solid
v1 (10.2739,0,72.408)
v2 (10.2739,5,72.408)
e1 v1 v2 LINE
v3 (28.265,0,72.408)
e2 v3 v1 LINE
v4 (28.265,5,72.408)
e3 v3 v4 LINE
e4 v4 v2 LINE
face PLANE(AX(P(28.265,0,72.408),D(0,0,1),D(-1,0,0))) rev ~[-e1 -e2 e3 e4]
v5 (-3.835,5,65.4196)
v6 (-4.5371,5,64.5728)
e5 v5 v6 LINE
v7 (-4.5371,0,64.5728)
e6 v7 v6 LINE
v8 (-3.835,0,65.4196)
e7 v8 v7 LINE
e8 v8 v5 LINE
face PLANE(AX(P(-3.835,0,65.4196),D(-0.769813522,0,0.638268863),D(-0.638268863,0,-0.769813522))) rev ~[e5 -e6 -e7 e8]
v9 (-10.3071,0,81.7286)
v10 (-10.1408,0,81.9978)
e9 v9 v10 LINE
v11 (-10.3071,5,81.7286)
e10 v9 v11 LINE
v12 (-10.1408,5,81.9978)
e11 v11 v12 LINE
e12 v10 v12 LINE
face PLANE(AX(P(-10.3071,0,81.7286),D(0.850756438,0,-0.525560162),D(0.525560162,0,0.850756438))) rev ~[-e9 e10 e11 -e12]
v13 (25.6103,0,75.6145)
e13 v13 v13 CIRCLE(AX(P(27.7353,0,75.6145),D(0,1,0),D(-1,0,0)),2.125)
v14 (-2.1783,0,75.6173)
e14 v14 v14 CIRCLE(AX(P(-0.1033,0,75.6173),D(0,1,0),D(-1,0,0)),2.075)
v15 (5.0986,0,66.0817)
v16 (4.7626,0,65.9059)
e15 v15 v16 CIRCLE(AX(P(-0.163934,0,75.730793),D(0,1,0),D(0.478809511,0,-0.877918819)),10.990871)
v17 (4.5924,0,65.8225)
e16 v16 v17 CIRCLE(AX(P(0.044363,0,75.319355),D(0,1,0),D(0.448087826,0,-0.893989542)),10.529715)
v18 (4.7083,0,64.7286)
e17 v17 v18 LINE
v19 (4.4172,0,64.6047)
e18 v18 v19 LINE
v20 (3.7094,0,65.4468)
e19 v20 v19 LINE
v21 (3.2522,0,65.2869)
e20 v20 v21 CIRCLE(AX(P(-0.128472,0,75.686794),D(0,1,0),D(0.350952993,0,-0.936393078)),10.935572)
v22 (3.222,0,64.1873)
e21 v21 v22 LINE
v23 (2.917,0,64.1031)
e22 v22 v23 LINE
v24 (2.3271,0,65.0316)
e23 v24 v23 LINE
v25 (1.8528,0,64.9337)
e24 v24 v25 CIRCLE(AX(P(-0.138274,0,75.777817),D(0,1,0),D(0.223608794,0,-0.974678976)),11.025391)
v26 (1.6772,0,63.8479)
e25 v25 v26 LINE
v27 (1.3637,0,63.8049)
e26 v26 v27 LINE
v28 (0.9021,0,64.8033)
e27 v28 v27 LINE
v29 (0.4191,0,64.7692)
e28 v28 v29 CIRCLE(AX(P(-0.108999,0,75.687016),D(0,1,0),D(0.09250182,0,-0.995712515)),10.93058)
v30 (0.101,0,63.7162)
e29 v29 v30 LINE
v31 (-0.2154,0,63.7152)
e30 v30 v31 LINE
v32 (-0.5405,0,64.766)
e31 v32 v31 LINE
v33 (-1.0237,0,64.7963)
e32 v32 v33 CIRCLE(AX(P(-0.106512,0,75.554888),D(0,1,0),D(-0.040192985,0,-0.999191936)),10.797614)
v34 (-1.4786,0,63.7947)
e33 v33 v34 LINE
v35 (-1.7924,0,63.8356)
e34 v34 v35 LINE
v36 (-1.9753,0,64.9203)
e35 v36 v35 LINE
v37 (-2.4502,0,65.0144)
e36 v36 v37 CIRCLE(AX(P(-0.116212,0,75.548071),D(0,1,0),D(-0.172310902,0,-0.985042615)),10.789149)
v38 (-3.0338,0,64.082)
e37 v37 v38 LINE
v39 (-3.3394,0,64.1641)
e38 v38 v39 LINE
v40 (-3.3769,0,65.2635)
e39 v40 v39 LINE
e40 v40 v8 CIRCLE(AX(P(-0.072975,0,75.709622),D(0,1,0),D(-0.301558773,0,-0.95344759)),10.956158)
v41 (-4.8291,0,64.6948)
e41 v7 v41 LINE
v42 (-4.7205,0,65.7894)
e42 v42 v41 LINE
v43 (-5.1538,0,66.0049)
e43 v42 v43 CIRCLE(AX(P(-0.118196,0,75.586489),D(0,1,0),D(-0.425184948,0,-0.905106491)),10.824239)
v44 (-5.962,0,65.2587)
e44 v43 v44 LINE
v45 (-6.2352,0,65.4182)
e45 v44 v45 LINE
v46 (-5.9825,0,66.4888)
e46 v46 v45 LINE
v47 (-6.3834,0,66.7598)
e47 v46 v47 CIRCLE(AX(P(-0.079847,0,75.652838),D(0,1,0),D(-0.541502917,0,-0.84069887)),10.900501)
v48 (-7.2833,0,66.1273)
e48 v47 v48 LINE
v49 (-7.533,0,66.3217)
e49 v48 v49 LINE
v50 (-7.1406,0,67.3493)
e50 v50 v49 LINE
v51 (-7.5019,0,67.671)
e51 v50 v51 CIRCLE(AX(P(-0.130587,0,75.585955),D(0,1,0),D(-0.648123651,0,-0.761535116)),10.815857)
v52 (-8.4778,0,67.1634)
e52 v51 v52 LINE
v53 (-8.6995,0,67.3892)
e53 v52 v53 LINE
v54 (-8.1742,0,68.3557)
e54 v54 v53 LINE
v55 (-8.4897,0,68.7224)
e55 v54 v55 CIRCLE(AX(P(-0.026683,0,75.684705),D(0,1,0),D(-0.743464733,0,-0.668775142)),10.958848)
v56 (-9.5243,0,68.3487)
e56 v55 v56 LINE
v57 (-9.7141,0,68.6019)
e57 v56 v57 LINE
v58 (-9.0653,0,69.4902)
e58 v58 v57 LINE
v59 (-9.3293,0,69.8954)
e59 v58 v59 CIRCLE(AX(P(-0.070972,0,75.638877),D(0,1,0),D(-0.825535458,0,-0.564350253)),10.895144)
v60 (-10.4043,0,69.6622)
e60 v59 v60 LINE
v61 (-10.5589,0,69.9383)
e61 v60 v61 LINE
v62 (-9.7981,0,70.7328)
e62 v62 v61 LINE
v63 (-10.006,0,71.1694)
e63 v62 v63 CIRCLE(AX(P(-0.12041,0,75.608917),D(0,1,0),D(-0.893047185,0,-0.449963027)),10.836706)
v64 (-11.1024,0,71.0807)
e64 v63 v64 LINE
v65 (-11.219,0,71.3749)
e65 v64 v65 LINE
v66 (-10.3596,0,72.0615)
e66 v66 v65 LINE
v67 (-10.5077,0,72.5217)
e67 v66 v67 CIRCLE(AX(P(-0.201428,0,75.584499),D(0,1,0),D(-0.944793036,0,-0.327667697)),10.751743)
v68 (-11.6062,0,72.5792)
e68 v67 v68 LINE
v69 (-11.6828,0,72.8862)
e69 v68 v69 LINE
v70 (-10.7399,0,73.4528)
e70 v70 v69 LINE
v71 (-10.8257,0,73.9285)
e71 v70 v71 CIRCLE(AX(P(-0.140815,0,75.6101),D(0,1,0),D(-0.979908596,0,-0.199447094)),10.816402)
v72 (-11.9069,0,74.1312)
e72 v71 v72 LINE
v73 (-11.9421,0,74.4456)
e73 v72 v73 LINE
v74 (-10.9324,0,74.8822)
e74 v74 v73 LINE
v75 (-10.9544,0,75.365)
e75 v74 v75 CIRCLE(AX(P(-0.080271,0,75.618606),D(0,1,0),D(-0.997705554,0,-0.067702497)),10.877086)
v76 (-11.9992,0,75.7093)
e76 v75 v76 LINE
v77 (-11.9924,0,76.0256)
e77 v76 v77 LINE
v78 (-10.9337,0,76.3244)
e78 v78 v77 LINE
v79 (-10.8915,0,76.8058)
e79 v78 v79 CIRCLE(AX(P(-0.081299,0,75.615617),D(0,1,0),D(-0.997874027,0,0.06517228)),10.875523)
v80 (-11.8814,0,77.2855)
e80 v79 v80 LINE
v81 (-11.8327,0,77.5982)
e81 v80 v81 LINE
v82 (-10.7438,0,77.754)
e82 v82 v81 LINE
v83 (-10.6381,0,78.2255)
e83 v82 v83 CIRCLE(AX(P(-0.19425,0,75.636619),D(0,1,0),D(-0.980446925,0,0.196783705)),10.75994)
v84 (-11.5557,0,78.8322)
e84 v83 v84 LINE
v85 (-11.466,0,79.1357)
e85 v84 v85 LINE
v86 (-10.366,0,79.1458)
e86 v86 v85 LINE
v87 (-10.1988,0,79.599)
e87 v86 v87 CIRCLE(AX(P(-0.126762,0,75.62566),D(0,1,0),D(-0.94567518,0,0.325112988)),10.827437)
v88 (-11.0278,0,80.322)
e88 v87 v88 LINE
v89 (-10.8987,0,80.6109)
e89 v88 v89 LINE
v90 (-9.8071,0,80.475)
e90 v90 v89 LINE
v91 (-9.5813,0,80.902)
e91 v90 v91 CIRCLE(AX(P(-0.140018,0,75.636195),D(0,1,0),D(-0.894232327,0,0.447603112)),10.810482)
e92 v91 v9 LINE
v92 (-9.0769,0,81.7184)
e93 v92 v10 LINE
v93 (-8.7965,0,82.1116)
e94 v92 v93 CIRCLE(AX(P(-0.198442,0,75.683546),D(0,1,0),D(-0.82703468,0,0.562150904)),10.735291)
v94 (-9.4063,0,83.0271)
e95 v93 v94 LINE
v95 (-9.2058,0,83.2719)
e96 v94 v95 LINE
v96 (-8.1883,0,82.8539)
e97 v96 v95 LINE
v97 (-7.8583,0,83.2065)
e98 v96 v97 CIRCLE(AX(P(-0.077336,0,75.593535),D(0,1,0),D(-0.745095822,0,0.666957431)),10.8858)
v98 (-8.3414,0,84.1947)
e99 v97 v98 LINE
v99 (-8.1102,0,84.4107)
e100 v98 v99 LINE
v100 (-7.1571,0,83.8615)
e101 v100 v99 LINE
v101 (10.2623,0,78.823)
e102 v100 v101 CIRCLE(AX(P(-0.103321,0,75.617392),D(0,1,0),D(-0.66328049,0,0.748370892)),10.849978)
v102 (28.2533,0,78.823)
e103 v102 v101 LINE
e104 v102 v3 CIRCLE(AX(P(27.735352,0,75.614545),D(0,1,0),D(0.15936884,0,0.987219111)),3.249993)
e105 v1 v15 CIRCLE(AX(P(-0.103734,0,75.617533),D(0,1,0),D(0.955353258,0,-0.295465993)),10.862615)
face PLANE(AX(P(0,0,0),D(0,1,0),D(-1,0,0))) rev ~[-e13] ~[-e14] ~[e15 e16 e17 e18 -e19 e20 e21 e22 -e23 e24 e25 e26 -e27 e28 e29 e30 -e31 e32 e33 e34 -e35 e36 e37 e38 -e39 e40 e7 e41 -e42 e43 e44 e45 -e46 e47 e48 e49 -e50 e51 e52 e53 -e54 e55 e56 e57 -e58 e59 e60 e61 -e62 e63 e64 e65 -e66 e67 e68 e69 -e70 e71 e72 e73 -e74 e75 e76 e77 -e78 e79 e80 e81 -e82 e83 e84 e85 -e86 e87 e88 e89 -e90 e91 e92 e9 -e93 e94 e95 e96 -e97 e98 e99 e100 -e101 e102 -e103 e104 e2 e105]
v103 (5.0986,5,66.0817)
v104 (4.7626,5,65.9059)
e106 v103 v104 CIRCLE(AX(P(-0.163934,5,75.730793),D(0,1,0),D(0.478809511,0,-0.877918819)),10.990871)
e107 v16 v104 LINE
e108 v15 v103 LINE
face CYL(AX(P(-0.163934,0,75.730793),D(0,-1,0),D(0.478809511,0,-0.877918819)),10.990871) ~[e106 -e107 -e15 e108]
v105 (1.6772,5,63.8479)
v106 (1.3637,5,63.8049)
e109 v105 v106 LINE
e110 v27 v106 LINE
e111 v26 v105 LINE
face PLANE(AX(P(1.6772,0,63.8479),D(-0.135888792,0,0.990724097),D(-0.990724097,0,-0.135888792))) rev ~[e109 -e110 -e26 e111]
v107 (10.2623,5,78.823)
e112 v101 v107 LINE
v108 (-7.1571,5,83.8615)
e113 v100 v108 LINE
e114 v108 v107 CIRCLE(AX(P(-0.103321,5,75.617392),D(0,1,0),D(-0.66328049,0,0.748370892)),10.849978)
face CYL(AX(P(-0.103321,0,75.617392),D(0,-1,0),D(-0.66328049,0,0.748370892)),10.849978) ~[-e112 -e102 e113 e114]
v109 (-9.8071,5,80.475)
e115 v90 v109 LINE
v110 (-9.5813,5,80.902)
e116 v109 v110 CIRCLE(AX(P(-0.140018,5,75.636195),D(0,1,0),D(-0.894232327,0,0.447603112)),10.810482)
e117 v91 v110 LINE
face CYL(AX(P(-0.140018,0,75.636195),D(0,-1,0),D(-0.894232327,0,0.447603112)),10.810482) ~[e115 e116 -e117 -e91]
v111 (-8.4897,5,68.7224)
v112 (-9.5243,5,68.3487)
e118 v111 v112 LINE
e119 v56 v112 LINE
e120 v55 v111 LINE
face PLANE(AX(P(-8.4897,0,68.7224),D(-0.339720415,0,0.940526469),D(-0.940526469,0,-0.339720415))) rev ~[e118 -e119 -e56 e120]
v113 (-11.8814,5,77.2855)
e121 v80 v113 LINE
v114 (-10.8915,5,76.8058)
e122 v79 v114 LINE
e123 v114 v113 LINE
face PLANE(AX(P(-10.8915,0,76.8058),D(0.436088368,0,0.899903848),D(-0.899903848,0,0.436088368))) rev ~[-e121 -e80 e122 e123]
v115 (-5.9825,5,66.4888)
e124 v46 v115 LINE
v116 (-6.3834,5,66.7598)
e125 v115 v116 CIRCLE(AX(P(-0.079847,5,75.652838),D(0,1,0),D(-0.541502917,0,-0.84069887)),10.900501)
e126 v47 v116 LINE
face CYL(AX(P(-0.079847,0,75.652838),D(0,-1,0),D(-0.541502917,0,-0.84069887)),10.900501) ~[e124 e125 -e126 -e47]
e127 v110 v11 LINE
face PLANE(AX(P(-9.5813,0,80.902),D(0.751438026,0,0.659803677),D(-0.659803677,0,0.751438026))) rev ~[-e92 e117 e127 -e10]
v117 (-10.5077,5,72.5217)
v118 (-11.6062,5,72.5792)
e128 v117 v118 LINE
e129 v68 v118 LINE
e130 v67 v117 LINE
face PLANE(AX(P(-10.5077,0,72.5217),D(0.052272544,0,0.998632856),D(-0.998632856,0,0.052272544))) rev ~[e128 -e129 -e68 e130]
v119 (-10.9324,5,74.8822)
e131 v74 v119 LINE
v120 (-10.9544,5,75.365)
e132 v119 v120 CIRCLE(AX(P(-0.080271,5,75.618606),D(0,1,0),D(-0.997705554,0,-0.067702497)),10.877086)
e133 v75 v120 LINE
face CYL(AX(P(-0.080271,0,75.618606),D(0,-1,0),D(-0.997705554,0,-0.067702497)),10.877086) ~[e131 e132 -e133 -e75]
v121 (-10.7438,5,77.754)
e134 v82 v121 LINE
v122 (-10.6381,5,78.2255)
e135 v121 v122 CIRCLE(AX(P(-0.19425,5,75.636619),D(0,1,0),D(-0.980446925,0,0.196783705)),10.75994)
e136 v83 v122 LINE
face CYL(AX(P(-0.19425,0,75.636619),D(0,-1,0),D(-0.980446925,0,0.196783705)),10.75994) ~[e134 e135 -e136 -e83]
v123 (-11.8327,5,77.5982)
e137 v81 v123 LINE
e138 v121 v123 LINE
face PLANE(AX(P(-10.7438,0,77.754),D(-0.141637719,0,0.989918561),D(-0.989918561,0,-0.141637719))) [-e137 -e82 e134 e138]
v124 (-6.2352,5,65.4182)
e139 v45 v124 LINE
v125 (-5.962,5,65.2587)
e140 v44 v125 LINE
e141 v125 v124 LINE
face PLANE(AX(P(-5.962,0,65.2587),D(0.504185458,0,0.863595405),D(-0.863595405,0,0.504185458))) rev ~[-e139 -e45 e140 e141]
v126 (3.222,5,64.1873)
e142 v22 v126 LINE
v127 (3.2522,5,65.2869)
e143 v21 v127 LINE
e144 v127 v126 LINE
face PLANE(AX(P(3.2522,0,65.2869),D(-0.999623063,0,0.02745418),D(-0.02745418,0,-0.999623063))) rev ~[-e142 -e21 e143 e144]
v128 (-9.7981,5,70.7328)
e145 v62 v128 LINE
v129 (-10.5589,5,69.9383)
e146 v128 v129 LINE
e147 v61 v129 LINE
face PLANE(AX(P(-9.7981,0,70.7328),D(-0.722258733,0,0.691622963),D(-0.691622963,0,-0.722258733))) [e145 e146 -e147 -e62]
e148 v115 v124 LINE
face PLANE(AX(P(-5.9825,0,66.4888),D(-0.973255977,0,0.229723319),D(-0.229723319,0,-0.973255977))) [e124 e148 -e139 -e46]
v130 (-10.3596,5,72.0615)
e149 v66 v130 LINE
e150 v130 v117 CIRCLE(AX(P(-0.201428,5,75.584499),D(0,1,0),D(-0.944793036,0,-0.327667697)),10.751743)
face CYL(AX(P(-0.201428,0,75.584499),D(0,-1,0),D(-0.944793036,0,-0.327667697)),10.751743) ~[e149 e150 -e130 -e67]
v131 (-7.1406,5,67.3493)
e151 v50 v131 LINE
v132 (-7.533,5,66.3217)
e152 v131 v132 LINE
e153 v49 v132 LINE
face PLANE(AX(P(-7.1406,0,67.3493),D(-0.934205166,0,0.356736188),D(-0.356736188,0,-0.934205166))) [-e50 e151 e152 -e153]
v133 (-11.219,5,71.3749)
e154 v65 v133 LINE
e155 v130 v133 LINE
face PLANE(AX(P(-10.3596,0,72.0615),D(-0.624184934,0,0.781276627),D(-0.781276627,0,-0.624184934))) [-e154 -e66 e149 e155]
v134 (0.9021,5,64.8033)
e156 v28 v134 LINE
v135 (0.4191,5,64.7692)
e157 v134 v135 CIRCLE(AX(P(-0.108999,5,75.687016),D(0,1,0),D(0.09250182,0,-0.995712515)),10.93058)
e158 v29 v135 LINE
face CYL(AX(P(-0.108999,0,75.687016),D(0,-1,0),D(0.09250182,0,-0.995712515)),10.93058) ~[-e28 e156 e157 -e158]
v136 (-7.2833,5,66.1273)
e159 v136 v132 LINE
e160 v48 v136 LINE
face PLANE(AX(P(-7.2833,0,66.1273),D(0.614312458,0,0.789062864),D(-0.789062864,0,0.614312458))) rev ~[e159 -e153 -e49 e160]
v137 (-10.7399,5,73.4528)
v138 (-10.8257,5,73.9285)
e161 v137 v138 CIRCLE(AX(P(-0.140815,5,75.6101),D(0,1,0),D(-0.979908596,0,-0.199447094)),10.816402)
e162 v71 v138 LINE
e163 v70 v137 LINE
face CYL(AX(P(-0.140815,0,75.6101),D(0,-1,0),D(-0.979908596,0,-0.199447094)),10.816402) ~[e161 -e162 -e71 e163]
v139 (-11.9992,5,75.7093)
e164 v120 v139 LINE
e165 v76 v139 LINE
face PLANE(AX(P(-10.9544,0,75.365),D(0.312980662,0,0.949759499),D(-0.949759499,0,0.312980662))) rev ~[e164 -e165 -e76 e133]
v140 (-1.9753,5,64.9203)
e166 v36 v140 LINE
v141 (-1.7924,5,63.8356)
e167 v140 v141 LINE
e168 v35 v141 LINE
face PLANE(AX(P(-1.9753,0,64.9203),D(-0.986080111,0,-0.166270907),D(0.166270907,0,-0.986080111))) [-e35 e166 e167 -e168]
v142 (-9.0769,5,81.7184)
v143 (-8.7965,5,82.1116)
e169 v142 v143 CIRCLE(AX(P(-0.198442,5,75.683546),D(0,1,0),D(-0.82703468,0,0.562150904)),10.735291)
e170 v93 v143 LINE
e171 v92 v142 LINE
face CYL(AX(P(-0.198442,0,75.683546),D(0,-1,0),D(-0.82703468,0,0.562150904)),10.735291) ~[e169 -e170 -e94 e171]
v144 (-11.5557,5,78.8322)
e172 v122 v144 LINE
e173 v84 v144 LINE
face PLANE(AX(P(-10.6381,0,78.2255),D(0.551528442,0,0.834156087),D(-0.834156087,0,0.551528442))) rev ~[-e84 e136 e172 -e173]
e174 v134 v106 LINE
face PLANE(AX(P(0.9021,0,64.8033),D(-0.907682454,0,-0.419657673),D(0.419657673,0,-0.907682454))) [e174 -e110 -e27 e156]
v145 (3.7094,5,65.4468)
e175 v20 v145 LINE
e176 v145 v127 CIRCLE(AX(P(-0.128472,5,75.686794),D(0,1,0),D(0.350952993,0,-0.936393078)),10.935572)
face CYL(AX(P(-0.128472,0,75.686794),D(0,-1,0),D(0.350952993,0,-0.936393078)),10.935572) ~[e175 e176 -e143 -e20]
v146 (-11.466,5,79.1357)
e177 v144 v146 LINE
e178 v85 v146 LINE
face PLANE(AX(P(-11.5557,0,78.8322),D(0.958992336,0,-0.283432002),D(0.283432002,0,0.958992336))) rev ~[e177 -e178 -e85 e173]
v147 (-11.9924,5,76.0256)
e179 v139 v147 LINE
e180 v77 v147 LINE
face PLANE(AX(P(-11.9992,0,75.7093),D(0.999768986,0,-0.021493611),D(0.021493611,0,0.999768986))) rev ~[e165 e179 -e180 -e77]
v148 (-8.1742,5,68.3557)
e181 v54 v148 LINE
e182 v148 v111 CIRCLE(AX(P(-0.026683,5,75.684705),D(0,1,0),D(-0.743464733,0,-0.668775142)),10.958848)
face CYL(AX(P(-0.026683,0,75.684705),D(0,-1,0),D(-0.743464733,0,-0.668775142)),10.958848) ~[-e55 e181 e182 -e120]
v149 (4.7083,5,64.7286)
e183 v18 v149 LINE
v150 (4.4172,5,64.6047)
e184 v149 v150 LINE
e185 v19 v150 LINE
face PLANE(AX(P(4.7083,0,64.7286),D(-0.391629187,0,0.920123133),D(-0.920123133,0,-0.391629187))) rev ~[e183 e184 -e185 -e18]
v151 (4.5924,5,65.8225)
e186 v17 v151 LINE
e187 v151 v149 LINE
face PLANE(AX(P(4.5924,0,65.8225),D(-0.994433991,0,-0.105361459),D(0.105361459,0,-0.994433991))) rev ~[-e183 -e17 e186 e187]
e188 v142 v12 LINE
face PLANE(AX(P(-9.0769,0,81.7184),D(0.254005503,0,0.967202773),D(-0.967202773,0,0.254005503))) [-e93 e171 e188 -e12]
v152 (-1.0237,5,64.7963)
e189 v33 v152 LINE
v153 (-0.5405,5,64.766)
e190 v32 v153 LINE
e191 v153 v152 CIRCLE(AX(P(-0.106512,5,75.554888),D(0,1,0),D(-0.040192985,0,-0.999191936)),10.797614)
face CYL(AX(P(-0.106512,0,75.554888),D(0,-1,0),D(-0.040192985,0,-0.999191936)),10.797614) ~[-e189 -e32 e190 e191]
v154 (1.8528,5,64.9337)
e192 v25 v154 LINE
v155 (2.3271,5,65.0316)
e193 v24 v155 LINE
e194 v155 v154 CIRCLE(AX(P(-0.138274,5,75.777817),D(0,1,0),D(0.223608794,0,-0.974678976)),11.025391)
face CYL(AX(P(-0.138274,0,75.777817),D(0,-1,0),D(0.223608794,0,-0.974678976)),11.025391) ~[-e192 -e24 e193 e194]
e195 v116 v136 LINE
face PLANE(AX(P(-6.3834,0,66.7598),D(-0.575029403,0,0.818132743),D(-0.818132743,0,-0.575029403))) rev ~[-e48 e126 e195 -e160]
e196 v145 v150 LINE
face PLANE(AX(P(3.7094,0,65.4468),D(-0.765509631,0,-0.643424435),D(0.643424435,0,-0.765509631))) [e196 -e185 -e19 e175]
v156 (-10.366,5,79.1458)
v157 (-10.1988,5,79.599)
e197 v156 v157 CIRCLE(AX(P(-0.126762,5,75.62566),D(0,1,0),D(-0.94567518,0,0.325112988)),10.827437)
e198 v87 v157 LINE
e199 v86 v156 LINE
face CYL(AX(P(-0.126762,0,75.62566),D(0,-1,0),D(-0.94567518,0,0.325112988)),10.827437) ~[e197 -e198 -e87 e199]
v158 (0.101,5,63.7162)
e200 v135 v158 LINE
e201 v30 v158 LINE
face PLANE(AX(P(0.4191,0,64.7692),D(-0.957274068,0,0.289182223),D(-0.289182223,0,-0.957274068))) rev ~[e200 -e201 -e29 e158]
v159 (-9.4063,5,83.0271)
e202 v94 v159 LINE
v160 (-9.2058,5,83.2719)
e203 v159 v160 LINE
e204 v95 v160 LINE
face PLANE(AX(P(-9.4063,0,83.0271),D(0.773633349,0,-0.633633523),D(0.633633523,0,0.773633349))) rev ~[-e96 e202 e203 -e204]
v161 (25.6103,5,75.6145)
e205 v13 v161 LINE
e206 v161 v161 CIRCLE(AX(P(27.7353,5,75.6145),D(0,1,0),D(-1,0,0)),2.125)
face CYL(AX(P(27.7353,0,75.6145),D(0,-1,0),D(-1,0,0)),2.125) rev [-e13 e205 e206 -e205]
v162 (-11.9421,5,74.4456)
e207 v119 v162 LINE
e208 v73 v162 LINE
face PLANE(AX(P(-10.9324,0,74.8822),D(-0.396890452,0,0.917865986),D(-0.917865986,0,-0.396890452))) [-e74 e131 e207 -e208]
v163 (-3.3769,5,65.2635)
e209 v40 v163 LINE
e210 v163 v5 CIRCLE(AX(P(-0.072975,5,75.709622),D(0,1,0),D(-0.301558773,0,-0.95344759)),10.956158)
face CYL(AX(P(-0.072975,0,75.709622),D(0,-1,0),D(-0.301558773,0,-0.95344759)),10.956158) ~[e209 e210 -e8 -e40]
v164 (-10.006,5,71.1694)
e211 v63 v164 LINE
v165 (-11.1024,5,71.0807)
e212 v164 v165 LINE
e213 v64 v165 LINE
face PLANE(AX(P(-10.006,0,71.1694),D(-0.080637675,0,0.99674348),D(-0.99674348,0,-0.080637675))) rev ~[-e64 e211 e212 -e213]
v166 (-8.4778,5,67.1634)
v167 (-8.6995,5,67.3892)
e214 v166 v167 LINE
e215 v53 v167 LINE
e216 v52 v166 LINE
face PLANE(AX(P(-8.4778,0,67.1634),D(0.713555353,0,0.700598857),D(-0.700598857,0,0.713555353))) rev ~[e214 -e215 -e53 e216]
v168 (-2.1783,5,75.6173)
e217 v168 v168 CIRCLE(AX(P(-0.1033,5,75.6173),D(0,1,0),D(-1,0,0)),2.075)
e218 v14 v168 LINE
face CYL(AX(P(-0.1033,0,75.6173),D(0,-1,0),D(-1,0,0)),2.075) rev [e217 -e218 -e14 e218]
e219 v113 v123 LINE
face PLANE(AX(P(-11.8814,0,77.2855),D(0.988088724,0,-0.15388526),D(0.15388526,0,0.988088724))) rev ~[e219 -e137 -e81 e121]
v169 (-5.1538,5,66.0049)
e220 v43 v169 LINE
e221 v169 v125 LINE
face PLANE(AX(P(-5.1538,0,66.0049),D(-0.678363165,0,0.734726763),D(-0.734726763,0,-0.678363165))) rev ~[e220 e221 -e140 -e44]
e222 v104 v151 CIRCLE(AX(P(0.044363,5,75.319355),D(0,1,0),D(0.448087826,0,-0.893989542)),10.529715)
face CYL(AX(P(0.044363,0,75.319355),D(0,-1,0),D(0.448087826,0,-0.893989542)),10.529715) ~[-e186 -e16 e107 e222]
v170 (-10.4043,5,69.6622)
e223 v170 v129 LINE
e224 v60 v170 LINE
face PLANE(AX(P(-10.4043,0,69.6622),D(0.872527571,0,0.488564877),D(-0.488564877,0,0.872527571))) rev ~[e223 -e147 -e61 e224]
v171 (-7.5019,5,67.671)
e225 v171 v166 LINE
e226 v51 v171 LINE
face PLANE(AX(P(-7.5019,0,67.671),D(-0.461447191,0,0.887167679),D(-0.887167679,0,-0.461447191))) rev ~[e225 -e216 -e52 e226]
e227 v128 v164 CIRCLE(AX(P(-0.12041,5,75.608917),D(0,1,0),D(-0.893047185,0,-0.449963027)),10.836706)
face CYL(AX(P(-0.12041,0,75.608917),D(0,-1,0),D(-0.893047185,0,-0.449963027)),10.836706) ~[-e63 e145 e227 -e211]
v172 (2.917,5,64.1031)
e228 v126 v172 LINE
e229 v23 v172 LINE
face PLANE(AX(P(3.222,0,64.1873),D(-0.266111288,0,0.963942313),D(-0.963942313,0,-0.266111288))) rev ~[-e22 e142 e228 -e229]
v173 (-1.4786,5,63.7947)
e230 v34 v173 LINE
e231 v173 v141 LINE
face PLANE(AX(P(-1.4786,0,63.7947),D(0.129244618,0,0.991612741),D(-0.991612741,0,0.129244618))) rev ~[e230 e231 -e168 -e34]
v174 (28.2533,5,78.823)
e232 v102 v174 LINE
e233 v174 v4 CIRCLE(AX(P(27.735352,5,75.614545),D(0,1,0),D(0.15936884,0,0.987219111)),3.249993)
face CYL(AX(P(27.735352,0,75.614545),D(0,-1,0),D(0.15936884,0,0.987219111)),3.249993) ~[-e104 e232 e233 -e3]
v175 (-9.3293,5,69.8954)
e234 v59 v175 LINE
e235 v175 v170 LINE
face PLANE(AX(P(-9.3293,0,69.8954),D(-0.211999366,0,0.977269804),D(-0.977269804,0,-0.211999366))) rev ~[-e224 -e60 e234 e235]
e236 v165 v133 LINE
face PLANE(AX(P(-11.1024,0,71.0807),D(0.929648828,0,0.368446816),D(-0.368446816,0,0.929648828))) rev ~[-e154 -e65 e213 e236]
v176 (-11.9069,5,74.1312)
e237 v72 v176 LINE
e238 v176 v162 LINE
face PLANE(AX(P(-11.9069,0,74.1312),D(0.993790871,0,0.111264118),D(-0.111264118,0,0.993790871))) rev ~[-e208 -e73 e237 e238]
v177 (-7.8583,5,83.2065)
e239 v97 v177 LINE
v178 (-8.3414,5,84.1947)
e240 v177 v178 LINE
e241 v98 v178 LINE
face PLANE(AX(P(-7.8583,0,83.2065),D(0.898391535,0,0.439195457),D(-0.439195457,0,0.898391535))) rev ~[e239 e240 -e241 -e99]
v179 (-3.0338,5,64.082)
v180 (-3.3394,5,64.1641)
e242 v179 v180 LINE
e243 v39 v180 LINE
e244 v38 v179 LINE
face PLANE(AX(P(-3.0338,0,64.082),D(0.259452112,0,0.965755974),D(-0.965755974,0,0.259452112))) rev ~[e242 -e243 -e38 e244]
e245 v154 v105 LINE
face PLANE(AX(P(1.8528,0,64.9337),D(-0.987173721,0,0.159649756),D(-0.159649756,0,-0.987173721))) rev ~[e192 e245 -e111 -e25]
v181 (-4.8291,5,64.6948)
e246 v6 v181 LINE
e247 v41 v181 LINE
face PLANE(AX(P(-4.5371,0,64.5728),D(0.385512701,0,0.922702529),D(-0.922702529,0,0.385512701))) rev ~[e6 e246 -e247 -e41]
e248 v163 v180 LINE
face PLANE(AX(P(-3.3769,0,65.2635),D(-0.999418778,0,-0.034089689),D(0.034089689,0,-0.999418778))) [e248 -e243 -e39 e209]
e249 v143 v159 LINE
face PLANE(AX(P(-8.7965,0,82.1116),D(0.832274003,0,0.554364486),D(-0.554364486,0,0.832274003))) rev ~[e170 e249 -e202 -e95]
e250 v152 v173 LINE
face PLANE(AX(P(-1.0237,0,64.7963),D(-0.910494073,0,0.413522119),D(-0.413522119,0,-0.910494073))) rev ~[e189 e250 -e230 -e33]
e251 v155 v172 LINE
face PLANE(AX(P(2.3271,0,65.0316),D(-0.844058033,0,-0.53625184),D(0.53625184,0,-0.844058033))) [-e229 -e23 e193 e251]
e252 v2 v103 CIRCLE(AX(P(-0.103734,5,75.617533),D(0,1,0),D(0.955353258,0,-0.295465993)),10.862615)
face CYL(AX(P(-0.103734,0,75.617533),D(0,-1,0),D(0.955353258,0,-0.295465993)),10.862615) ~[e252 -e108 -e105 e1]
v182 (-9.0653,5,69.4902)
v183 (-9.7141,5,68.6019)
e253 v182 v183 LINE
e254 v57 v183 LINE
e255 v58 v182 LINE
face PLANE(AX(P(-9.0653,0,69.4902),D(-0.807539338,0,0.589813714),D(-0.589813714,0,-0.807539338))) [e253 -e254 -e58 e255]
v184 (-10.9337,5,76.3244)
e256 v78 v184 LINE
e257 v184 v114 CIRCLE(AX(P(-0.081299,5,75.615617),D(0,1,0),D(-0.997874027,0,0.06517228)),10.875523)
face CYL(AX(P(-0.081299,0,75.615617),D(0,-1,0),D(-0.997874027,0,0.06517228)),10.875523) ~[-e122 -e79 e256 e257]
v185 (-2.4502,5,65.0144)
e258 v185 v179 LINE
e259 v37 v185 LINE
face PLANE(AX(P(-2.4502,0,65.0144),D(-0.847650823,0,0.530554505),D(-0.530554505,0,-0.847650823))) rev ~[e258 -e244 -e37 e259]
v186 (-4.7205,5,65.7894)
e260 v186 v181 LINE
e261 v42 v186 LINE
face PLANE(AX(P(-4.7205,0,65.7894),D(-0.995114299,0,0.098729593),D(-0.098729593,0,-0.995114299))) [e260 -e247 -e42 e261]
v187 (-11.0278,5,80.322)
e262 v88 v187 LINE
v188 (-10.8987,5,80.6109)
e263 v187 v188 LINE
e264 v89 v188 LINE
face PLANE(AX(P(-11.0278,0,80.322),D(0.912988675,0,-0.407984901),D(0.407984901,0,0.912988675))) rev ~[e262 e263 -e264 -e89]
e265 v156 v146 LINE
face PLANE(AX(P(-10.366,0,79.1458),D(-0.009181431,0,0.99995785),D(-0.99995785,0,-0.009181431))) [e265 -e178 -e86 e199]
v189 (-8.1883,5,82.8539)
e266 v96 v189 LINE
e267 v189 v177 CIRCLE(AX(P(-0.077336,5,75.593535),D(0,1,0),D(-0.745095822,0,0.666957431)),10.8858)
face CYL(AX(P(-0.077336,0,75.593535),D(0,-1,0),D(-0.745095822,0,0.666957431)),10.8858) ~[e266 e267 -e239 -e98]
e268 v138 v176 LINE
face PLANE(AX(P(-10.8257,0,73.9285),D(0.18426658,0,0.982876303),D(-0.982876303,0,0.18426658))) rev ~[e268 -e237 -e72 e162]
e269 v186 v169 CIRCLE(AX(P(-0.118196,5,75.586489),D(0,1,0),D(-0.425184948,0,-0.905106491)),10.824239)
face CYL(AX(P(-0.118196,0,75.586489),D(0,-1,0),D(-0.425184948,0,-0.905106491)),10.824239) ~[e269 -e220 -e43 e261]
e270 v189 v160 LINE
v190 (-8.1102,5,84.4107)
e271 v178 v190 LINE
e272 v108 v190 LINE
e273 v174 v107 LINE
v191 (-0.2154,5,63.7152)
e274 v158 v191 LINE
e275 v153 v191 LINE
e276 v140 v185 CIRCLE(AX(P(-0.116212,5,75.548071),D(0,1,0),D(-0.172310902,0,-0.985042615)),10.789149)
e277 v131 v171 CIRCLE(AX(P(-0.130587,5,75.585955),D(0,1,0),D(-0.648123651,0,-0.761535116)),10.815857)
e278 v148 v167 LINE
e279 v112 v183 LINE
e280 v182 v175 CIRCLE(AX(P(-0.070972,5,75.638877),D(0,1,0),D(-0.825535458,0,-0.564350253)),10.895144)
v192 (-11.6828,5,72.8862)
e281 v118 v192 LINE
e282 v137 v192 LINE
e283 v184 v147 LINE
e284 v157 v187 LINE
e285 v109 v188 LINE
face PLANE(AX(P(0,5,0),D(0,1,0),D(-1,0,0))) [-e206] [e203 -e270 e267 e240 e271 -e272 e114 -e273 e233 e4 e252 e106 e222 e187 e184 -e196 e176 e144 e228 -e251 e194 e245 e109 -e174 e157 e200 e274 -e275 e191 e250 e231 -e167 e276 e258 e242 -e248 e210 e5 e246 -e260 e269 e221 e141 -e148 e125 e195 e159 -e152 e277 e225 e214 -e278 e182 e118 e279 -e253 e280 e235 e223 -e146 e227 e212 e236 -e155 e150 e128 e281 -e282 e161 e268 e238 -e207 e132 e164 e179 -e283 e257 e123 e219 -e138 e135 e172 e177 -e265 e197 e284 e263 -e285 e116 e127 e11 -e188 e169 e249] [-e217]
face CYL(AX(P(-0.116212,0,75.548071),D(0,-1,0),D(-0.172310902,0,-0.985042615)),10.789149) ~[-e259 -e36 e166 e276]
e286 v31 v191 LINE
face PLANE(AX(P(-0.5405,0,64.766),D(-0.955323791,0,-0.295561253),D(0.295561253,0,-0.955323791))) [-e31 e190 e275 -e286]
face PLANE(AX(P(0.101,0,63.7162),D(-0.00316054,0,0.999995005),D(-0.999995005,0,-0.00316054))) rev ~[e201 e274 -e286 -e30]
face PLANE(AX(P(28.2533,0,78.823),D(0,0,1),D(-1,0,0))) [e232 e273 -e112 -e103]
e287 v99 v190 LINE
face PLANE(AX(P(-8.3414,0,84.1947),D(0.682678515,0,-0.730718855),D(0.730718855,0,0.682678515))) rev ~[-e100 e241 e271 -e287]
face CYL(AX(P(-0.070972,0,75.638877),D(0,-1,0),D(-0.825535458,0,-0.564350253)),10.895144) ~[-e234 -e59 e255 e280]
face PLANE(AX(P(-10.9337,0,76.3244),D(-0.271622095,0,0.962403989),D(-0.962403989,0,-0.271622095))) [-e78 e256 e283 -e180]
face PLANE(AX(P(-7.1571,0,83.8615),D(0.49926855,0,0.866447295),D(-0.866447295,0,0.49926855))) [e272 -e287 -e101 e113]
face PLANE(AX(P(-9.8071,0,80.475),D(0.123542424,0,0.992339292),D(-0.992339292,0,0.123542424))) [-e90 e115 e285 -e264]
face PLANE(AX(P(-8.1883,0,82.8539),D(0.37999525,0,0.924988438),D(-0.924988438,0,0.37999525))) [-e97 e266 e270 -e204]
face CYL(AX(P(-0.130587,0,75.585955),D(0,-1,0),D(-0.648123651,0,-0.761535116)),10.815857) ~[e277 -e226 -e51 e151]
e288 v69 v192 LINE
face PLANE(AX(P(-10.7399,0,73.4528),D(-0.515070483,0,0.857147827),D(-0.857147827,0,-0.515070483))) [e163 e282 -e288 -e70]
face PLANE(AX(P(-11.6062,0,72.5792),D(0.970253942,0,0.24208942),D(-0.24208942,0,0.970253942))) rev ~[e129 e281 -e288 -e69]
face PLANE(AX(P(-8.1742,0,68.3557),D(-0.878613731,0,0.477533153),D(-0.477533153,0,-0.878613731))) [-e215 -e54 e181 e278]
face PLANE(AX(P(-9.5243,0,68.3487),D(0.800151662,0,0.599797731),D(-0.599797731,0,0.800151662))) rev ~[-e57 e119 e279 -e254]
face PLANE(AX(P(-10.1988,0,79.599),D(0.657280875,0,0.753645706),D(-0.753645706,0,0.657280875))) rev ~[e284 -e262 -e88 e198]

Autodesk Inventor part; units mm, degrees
ref_plane "YZ Plane" through (0, 0, 0) normal (1, 0, 0) x (0, 1, 0)
ref_plane "XZ Plane" through (0, 0, 0) normal (0, 1, 0) x (-1, 0, 0)
ref_plane "XY Plane" through (0, 0, 0) normal (0, 0, 1) x (1, 0, 0)
sketch "Sketch1" plane through (0, 0, 0) normal (0, 1, 0) x (-1, 0, 0)
  circle A0 centre (0, 0) radius 11
  line L0 (0, 0) -> (21.5969, 0.9429) construction
  line L1 (0, 0) -> (22.384, -0.9773) construction
  line L2 (0, 0) -> (25.2479, 0) construction
  line L3 (10.9895, 0.4798) -> (12.0415, 0.1582)
  line L4 (10.9895, 0.4798) -> (12.0895, 0.4798) construction
  line L5 (10.9895, -0.4798) -> (12.0415, -0.1582)
  line L6 (12.0415, -0.1582) -> (12.0415, 0.1582)
  line L7 (10.9561, 0.9815) -> (11.9561, 1.4397)
  line L8 (11.9561, 1.4397) -> (11.9142, 1.7533)
  line L9 (10.8289, 1.9326) -> (11.9142, 1.7533)
  line L10 (10.7293, 2.4254) -> (11.6597, 3.0122)
  line L11 (11.6597, 3.0122) -> (11.5765, 3.3175)
  line L12 (10.4771, 3.3513) -> (11.5765, 3.3175)
  line L13 (10.313, 3.8266) -> (11.1574, 4.5315)
  line L14 (11.1574, 4.5315) -> (11.0345, 4.8231)
  line L15 (9.9402, 4.7109) -> (11.0345, 4.8231)
  line L16 (9.7146, 5.1602) -> (10.4581, 5.9708)
  line L17 (10.4581, 5.9708) -> (10.2976, 6.2435)
  line L18 (9.2279, 5.9872) -> (10.2976, 6.2435)
  line L19 (8.9446, 6.4026) -> (9.5741, 7.3047)
  line L20 (9.5741, 7.3047) -> (9.3789, 7.5537)
  line L21 (8.3526, 7.1578) -> (9.3789, 7.5537)
  line L22 (8.0168, 7.532) -> (8.521, 8.5096)
  line L23 (8.521, 8.5096) -> (8.2945, 8.7306)
  line L24 (7.3298, 8.2021) -> (8.2945, 8.7306)
  line L25 (6.9474, 8.5284) -> (7.3176, 9.5643)
  line L26 (7.3176, 9.5643) -> (7.0638, 9.7532)
  line L27 (6.1776, 9.1015) -> (7.0638, 9.7532)
  line L28 (5.7553, 9.3743) -> (5.9849, 10.45)
  line L29 (5.9849, 10.45) -> (5.7083, 10.6037)
  line L30 (4.9164, 9.8402) -> (5.7083, 10.6037)
  line L31 (4.4616, 10.0546) -> (4.5465, 11.1513)
  line L32 (4.5465, 11.1513) -> (4.252, 11.2669)
  line L33 (3.5683, 10.4052) -> (4.252, 11.2669)
  line L34 (3.0891, 10.5573) -> (3.0279, 11.6556)
  line L35 (3.0279, 11.6556) -> (2.7206, 11.7312)
  line L36 (2.1572, 10.7864) -> (2.7206, 11.7312)
  line L37 (1.6621, 10.8737) -> (1.4558, 11.9542)
  line L38 (1.4558, 11.9542) -> (1.1412, 11.9883)
  line L39 (0.708, 10.9772) -> (1.1412, 11.9883)
  line L40 (0.2057, 10.9981) -> (-0.142, 12.0417)
  line L41 (-0.142, 12.0417) -> (-0.4584, 12.0338)
  line L42 (-0.7536, 10.9742) -> (-0.4584, 12.0338)
  line L43 (-1.2543, 10.9283) -> (-1.7373, 11.9165)
  line L44 (-1.7373, 11.9165) -> (-2.0498, 11.8668)
  line L45 (-2.202, 10.7773) -> (-2.0498, 11.8668)
  line L46 (-2.6922, 10.6655) -> (-3.302, 11.581)
  line L47 (-3.302, 11.581) -> (-3.6051, 11.4902)
  line L48 (-3.6115, 10.3902) -> (-3.6051, 11.4902)
  line L49 (-4.0825, 10.2144) -> (-4.8083, 11.0409)
  line L50 (-4.8083, 11.0409) -> (-5.0967, 10.9108)
  line L51 (-4.9572, 9.8197) -> (-5.0967, 10.9108)
  line L52 (-5.4007, 9.5829) -> (-6.2297, 10.3059)
  line L53 (-6.2297, 10.3059) -> (-6.4983, 10.1387)
  line L54 (-6.2154, 9.0757) -> (-6.4983, 10.1387)
  line L55 (-6.6236, 8.7822) -> (-7.5411, 9.389)
  line L56 (-7.5411, 9.389) -> (-7.7852, 9.1876)
  line L57 (-7.3638, 8.1715) -> (-7.7852, 9.1876)
  line L58 (-7.7295, 7.8265) -> (-8.7194, 8.3062)
  line L59 (-8.7194, 8.3062) -> (-8.9346, 8.0743)
  line L60 (-8.3823, 7.1231) -> (-8.9346, 8.0743)
  line L61 (-8.699, 6.7326) -> (-9.7437, 7.0768)
  line L62 (-9.7437, 7.0768) -> (-9.9263, 6.8184)
  line L63 (-9.2527, 5.9488) -> (-9.9263, 6.8184)
  line L64 (-9.5148, 5.5198) -> (-10.596, 5.7225)
  line L65 (-10.596, 5.7225) -> (-10.7427, 5.4421)
  line L66 (-9.9597, 4.6695) -> (-10.7427, 5.4421)
  line L67 (-10.1627, 4.2095) -> (-11.2612, 4.2671)
  line L68 (-11.2612, 4.2671) -> (-11.3694, 3.9698)
  line L69 (-10.4909, 3.3078) -> (-11.3694, 3.9698)
  line L70 (19.4119, 54.3111) -> (-46.6371, 52.0046)
  line L71 (18.6565, 53.6502) -> (84.7457, 53.6502) construction
  line L72 (-1.8528, 64.9337) -> (-1.6772, 63.8479)
  line L73 (-1.6772, 63.8479) -> (-1.3637, 63.8049)
  line L74 (-0.9021, 64.8033) -> (-1.3637, 63.8049)
  line L75 (-0.4191, 64.7692) -> (-0.101, 63.7162)
  line L76 (-0.101, 63.7162) -> (0.2154, 63.7152)
  line L77 (0.5405, 64.766) -> (0.2154, 63.7152)
  line L78 (1.0237, 64.7963) -> (1.4786, 63.7947)
  line L79 (1.4786, 63.7947) -> (1.7924, 63.8356)
  line L80 (1.9753, 64.9203) -> (1.7924, 63.8356)
  line L81 (3.0338, 64.082) -> (3.3394, 64.1641)
  line L82 (2.4502, 65.0144) -> (3.0338, 64.082)
  line L83 (3.3769, 65.2635) -> (3.3394, 64.1641)
  line L84 (3.835, 65.4196) -> (4.5371, 64.5728)
  line L85 (4.5371, 64.5728) -> (4.8291, 64.6948)
  line L86 (4.7205, 65.7894) -> (4.8291, 64.6948)
  line L87 (5.1538, 66.0049) -> (5.962, 65.2587)
  line L88 (5.962, 65.2587) -> (6.2352, 65.4182)
  line L89 (5.9825, 66.4888) -> (6.2352, 65.4182)
  line L90 (6.3834, 66.7598) -> (7.2833, 66.1273)
  line L91 (7.2833, 66.1273) -> (7.533, 66.3217)
  line L92 (7.1406, 67.3493) -> (7.533, 66.3217)
  line L93 (7.5019, 67.671) -> (8.4778, 67.1634)
  line L94 (8.4778, 67.1634) -> (8.6995, 67.3892)
  line L95 (8.1742, 68.3557) -> (8.6995, 67.3892)
  line L96 (-3.7094, 65.4468) -> (-4.4172, 64.6047)
  line L97 (-2.3271, 65.0316) -> (-2.917, 64.1031)
  line L98 (-3.222, 64.1873) -> (-2.917, 64.1031)
  line L99 (-3.2522, 65.2869) -> (-3.222, 64.1873)
  line L100 (-3.7094, 65.4468) -> (-4.1401, 64.4346) construction
  line L101 (-4.7083, 64.7286) -> (-4.4172, 64.6047)
  line L102 (-4.5924, 65.8225) -> (-4.7083, 64.7286)
  line L103 (8.4897, 68.7224) -> (9.5243, 68.3487)
  line L104 (9.5243, 68.3487) -> (9.7141, 68.6019)
  line L105 (9.0653, 69.4902) -> (9.7141, 68.6019)
  line L106 (10.4043, 69.6622) -> (10.5589, 69.9383)
  line L107 (9.7981, 70.7328) -> (10.5589, 69.9383)
  line L108 (9.3293, 69.8954) -> (10.4043, 69.6622)
  line L109 (10.006, 71.1694) -> (11.1024, 71.0807)
  line L110 (11.1024, 71.0807) -> (11.219, 71.3749)
  line L111 (10.3596, 72.0615) -> (11.219, 71.3749)
  line L112 (10.5077, 72.5217) -> (11.6062, 72.5792)
  line L113 (11.6062, 72.5792) -> (11.6828, 72.8862)
  line L114 (10.7399, 73.4528) -> (11.6828, 72.8862)
  line L115 (10.8257, 73.9285) -> (11.9069, 74.1312)
  line L116 (11.9069, 74.1312) -> (11.9421, 74.4456)
  line L117 (10.9324, 74.8822) -> (11.9421, 74.4456)
  line L118 (10.9544, 75.365) -> (11.9992, 75.7093)
  line L119 (11.9992, 75.7093) -> (11.9924, 76.0256)
  line L120 (10.9337, 76.3244) -> (11.9924, 76.0256)
  line L121 (10.8915, 76.8058) -> (11.8814, 77.2855)
  line L122 (11.8814, 77.2855) -> (11.8327, 77.5982)
  line L123 (10.7438, 77.754) -> (11.8327, 77.5982)
  line L124 (10.6381, 78.2255) -> (11.5557, 78.8322)
  line L125 (11.5557, 78.8322) -> (11.466, 79.1357)
  line L126 (10.366, 79.1458) -> (11.466, 79.1357)
  line L127 (10.1988, 79.599) -> (11.0278, 80.322)
  line L128 (11.0278, 80.322) -> (10.8987, 80.6109)
  line L129 (9.8071, 80.475) -> (10.8987, 80.6109)
  line L130 (9.5813, 80.902) -> (10.3071, 81.7286)
  line L131 (10.3071, 81.7286) -> (10.1408, 81.9978)
  line L132 (9.0769, 81.7184) -> (10.1408, 81.9978)
  line L133 (8.7965, 82.1116) -> (9.4063, 83.0271)
  line L134 (9.4063, 83.0271) -> (9.2058, 83.2719)
  line L135 (8.1883, 82.8539) -> (9.2058, 83.2719)
  line L136 (7.8583, 83.2065) -> (8.3414, 84.1947)
  line L137 (8.3414, 84.1947) -> (8.1102, 84.4107)
  line L138 (7.1571, 83.8615) -> (8.1102, 84.4107)
  circle A1 centre (-27.7353, 75.6145) radius 2.125
  arc A2 (-28.2533, 78.823) -> (-28.265, 72.408) centre (-27.7353, 75.6145) ccw
  line L139 (-28.265, 72.408) -> (-10.2739, 72.408)
  line L140 (-28.2533, 78.823) -> (-10.2623, 78.823)
  circle A3 centre (0.1033, 75.6173) radius 2.075
  arc A4 (7.2999, 83.7372) -> (-10.2623, 78.823) centre (0.1033, 75.6173) ccw
  arc A5 (8.1883, 82.8539) -> (7.8583, 83.2065) centre (0.1033, 75.6173) ccw
  arc A6 (9.0769, 81.7184) -> (8.7965, 82.1116) centre (0.1033, 75.6173) ccw
  arc A7 (9.8071, 80.475) -> (9.5813, 80.902) centre (0.1033, 75.6173) ccw
  arc A8 (10.366, 79.1458) -> (10.1988, 79.599) centre (0.1033, 75.6173) ccw
  arc A9 (10.7438, 77.754) -> (10.6381, 78.2255) centre (0.1033, 75.6173) ccw
  arc A10 (10.9337, 76.3244) -> (10.8915, 76.8058) centre (0.1033, 75.6173) ccw
  arc A11 (10.9324, 74.8822) -> (10.9544, 75.365) centre (0.1033, 75.6173) ccw
  arc A12 (10.7399, 73.4528) -> (10.8257, 73.9285) centre (0.1033, 75.6173) ccw
  arc A13 (10.3596, 72.0615) -> (10.5077, 72.5217) centre (0.1033, 75.6173) ccw
  arc A14 (9.7981, 70.7328) -> (10.006, 71.1694) centre (0.1033, 75.6173) ccw
  arc A15 (9.0653, 69.4902) -> (9.3293, 69.8954) centre (0.1033, 75.6173) ccw
  arc A16 (8.1742, 68.3557) -> (8.4897, 68.7224) centre (0.1033, 75.6173) ccw
  arc A17 (7.1406, 67.3493) -> (7.5019, 67.671) centre (0.1033, 75.6173) ccw
  arc A18 (5.9825, 66.4888) -> (6.3834, 66.7598) centre (0.1033, 75.6173) ccw
  arc A19 (4.7205, 65.7894) -> (5.1538, 66.0049) centre (0.1033, 75.6173) ccw
  arc A20 (3.3769, 65.2635) -> (3.835, 65.4196) centre (0.1033, 75.6173) ccw
  arc A21 (1.9753, 64.9203) -> (2.4502, 65.0144) centre (0.1033, 75.6173) ccw
  arc A22 (0.5405, 64.766) -> (1.0237, 64.7963) centre (0.1033, 75.6173) ccw
  arc A23 (-0.9021, 64.8033) -> (-0.4191, 64.7692) centre (0.1033, 75.6173) ccw
  arc A24 (-2.3271, 65.0316) -> (-1.8528, 64.9337) centre (0.1033, 75.6173) ccw
  arc A25 (-10.2739, 72.408) -> (-5.0986, 66.0817) centre (0.1033, 75.6173) ccw
  arc A26 (-3.7094, 65.4468) -> (-3.2522, 65.2869) centre (0.1033, 75.6173) ccw
  arc A27 (-5.0986, 66.0817) -> (-4.7626, 65.9059) centre (0.1033, 75.6173) ccw
  arc A28 (-4.7626, 65.9059) -> (-4.5924, 65.8225) centre (0.1033, 75.6173) ccw
  point P0 (7.1571, 83.8615)
  dimension "d0" = 22
  dimension "d1" = 2.5
  dimension "d2" = 2.5
  dimension "d3" = 1.1
  dimension "d4" = 17
  dimension "d5" = 0.3164
  dimension "d8" = 160
  dimension "d15" = 4.15
  dimension "d21" = 10.85
extrude "Extrusion1" add sketch "Sketch1" along normal blind 5 contours A24 L97 L98 L99 A26 L96 L101 L102 A28 A27 A25 L139 A2 L140 A4 L138 L137 L136 A5 L135 L134 L133 A6 L132 L131 L130 A7 L129 L128 L127 A8 L126 L125 L124 A9 L123 L122 L121 A10 L120 L119 L118 A11 L117 L116 L115 A12 L114 L113 L112 A13 L111 L110 L109 A14 L107 L106 L108 A15 L105 L104 L103 A16 L95 L94 L93 A17 L92 L91 L90 A18 L89 L88 L87 A19 L86 L85 L84 A20 L83 L81 L82 A21 L80 L79 L78 A22 L77 L76 L75 A23 L74 L73 L72
properties part number "innerGear"
